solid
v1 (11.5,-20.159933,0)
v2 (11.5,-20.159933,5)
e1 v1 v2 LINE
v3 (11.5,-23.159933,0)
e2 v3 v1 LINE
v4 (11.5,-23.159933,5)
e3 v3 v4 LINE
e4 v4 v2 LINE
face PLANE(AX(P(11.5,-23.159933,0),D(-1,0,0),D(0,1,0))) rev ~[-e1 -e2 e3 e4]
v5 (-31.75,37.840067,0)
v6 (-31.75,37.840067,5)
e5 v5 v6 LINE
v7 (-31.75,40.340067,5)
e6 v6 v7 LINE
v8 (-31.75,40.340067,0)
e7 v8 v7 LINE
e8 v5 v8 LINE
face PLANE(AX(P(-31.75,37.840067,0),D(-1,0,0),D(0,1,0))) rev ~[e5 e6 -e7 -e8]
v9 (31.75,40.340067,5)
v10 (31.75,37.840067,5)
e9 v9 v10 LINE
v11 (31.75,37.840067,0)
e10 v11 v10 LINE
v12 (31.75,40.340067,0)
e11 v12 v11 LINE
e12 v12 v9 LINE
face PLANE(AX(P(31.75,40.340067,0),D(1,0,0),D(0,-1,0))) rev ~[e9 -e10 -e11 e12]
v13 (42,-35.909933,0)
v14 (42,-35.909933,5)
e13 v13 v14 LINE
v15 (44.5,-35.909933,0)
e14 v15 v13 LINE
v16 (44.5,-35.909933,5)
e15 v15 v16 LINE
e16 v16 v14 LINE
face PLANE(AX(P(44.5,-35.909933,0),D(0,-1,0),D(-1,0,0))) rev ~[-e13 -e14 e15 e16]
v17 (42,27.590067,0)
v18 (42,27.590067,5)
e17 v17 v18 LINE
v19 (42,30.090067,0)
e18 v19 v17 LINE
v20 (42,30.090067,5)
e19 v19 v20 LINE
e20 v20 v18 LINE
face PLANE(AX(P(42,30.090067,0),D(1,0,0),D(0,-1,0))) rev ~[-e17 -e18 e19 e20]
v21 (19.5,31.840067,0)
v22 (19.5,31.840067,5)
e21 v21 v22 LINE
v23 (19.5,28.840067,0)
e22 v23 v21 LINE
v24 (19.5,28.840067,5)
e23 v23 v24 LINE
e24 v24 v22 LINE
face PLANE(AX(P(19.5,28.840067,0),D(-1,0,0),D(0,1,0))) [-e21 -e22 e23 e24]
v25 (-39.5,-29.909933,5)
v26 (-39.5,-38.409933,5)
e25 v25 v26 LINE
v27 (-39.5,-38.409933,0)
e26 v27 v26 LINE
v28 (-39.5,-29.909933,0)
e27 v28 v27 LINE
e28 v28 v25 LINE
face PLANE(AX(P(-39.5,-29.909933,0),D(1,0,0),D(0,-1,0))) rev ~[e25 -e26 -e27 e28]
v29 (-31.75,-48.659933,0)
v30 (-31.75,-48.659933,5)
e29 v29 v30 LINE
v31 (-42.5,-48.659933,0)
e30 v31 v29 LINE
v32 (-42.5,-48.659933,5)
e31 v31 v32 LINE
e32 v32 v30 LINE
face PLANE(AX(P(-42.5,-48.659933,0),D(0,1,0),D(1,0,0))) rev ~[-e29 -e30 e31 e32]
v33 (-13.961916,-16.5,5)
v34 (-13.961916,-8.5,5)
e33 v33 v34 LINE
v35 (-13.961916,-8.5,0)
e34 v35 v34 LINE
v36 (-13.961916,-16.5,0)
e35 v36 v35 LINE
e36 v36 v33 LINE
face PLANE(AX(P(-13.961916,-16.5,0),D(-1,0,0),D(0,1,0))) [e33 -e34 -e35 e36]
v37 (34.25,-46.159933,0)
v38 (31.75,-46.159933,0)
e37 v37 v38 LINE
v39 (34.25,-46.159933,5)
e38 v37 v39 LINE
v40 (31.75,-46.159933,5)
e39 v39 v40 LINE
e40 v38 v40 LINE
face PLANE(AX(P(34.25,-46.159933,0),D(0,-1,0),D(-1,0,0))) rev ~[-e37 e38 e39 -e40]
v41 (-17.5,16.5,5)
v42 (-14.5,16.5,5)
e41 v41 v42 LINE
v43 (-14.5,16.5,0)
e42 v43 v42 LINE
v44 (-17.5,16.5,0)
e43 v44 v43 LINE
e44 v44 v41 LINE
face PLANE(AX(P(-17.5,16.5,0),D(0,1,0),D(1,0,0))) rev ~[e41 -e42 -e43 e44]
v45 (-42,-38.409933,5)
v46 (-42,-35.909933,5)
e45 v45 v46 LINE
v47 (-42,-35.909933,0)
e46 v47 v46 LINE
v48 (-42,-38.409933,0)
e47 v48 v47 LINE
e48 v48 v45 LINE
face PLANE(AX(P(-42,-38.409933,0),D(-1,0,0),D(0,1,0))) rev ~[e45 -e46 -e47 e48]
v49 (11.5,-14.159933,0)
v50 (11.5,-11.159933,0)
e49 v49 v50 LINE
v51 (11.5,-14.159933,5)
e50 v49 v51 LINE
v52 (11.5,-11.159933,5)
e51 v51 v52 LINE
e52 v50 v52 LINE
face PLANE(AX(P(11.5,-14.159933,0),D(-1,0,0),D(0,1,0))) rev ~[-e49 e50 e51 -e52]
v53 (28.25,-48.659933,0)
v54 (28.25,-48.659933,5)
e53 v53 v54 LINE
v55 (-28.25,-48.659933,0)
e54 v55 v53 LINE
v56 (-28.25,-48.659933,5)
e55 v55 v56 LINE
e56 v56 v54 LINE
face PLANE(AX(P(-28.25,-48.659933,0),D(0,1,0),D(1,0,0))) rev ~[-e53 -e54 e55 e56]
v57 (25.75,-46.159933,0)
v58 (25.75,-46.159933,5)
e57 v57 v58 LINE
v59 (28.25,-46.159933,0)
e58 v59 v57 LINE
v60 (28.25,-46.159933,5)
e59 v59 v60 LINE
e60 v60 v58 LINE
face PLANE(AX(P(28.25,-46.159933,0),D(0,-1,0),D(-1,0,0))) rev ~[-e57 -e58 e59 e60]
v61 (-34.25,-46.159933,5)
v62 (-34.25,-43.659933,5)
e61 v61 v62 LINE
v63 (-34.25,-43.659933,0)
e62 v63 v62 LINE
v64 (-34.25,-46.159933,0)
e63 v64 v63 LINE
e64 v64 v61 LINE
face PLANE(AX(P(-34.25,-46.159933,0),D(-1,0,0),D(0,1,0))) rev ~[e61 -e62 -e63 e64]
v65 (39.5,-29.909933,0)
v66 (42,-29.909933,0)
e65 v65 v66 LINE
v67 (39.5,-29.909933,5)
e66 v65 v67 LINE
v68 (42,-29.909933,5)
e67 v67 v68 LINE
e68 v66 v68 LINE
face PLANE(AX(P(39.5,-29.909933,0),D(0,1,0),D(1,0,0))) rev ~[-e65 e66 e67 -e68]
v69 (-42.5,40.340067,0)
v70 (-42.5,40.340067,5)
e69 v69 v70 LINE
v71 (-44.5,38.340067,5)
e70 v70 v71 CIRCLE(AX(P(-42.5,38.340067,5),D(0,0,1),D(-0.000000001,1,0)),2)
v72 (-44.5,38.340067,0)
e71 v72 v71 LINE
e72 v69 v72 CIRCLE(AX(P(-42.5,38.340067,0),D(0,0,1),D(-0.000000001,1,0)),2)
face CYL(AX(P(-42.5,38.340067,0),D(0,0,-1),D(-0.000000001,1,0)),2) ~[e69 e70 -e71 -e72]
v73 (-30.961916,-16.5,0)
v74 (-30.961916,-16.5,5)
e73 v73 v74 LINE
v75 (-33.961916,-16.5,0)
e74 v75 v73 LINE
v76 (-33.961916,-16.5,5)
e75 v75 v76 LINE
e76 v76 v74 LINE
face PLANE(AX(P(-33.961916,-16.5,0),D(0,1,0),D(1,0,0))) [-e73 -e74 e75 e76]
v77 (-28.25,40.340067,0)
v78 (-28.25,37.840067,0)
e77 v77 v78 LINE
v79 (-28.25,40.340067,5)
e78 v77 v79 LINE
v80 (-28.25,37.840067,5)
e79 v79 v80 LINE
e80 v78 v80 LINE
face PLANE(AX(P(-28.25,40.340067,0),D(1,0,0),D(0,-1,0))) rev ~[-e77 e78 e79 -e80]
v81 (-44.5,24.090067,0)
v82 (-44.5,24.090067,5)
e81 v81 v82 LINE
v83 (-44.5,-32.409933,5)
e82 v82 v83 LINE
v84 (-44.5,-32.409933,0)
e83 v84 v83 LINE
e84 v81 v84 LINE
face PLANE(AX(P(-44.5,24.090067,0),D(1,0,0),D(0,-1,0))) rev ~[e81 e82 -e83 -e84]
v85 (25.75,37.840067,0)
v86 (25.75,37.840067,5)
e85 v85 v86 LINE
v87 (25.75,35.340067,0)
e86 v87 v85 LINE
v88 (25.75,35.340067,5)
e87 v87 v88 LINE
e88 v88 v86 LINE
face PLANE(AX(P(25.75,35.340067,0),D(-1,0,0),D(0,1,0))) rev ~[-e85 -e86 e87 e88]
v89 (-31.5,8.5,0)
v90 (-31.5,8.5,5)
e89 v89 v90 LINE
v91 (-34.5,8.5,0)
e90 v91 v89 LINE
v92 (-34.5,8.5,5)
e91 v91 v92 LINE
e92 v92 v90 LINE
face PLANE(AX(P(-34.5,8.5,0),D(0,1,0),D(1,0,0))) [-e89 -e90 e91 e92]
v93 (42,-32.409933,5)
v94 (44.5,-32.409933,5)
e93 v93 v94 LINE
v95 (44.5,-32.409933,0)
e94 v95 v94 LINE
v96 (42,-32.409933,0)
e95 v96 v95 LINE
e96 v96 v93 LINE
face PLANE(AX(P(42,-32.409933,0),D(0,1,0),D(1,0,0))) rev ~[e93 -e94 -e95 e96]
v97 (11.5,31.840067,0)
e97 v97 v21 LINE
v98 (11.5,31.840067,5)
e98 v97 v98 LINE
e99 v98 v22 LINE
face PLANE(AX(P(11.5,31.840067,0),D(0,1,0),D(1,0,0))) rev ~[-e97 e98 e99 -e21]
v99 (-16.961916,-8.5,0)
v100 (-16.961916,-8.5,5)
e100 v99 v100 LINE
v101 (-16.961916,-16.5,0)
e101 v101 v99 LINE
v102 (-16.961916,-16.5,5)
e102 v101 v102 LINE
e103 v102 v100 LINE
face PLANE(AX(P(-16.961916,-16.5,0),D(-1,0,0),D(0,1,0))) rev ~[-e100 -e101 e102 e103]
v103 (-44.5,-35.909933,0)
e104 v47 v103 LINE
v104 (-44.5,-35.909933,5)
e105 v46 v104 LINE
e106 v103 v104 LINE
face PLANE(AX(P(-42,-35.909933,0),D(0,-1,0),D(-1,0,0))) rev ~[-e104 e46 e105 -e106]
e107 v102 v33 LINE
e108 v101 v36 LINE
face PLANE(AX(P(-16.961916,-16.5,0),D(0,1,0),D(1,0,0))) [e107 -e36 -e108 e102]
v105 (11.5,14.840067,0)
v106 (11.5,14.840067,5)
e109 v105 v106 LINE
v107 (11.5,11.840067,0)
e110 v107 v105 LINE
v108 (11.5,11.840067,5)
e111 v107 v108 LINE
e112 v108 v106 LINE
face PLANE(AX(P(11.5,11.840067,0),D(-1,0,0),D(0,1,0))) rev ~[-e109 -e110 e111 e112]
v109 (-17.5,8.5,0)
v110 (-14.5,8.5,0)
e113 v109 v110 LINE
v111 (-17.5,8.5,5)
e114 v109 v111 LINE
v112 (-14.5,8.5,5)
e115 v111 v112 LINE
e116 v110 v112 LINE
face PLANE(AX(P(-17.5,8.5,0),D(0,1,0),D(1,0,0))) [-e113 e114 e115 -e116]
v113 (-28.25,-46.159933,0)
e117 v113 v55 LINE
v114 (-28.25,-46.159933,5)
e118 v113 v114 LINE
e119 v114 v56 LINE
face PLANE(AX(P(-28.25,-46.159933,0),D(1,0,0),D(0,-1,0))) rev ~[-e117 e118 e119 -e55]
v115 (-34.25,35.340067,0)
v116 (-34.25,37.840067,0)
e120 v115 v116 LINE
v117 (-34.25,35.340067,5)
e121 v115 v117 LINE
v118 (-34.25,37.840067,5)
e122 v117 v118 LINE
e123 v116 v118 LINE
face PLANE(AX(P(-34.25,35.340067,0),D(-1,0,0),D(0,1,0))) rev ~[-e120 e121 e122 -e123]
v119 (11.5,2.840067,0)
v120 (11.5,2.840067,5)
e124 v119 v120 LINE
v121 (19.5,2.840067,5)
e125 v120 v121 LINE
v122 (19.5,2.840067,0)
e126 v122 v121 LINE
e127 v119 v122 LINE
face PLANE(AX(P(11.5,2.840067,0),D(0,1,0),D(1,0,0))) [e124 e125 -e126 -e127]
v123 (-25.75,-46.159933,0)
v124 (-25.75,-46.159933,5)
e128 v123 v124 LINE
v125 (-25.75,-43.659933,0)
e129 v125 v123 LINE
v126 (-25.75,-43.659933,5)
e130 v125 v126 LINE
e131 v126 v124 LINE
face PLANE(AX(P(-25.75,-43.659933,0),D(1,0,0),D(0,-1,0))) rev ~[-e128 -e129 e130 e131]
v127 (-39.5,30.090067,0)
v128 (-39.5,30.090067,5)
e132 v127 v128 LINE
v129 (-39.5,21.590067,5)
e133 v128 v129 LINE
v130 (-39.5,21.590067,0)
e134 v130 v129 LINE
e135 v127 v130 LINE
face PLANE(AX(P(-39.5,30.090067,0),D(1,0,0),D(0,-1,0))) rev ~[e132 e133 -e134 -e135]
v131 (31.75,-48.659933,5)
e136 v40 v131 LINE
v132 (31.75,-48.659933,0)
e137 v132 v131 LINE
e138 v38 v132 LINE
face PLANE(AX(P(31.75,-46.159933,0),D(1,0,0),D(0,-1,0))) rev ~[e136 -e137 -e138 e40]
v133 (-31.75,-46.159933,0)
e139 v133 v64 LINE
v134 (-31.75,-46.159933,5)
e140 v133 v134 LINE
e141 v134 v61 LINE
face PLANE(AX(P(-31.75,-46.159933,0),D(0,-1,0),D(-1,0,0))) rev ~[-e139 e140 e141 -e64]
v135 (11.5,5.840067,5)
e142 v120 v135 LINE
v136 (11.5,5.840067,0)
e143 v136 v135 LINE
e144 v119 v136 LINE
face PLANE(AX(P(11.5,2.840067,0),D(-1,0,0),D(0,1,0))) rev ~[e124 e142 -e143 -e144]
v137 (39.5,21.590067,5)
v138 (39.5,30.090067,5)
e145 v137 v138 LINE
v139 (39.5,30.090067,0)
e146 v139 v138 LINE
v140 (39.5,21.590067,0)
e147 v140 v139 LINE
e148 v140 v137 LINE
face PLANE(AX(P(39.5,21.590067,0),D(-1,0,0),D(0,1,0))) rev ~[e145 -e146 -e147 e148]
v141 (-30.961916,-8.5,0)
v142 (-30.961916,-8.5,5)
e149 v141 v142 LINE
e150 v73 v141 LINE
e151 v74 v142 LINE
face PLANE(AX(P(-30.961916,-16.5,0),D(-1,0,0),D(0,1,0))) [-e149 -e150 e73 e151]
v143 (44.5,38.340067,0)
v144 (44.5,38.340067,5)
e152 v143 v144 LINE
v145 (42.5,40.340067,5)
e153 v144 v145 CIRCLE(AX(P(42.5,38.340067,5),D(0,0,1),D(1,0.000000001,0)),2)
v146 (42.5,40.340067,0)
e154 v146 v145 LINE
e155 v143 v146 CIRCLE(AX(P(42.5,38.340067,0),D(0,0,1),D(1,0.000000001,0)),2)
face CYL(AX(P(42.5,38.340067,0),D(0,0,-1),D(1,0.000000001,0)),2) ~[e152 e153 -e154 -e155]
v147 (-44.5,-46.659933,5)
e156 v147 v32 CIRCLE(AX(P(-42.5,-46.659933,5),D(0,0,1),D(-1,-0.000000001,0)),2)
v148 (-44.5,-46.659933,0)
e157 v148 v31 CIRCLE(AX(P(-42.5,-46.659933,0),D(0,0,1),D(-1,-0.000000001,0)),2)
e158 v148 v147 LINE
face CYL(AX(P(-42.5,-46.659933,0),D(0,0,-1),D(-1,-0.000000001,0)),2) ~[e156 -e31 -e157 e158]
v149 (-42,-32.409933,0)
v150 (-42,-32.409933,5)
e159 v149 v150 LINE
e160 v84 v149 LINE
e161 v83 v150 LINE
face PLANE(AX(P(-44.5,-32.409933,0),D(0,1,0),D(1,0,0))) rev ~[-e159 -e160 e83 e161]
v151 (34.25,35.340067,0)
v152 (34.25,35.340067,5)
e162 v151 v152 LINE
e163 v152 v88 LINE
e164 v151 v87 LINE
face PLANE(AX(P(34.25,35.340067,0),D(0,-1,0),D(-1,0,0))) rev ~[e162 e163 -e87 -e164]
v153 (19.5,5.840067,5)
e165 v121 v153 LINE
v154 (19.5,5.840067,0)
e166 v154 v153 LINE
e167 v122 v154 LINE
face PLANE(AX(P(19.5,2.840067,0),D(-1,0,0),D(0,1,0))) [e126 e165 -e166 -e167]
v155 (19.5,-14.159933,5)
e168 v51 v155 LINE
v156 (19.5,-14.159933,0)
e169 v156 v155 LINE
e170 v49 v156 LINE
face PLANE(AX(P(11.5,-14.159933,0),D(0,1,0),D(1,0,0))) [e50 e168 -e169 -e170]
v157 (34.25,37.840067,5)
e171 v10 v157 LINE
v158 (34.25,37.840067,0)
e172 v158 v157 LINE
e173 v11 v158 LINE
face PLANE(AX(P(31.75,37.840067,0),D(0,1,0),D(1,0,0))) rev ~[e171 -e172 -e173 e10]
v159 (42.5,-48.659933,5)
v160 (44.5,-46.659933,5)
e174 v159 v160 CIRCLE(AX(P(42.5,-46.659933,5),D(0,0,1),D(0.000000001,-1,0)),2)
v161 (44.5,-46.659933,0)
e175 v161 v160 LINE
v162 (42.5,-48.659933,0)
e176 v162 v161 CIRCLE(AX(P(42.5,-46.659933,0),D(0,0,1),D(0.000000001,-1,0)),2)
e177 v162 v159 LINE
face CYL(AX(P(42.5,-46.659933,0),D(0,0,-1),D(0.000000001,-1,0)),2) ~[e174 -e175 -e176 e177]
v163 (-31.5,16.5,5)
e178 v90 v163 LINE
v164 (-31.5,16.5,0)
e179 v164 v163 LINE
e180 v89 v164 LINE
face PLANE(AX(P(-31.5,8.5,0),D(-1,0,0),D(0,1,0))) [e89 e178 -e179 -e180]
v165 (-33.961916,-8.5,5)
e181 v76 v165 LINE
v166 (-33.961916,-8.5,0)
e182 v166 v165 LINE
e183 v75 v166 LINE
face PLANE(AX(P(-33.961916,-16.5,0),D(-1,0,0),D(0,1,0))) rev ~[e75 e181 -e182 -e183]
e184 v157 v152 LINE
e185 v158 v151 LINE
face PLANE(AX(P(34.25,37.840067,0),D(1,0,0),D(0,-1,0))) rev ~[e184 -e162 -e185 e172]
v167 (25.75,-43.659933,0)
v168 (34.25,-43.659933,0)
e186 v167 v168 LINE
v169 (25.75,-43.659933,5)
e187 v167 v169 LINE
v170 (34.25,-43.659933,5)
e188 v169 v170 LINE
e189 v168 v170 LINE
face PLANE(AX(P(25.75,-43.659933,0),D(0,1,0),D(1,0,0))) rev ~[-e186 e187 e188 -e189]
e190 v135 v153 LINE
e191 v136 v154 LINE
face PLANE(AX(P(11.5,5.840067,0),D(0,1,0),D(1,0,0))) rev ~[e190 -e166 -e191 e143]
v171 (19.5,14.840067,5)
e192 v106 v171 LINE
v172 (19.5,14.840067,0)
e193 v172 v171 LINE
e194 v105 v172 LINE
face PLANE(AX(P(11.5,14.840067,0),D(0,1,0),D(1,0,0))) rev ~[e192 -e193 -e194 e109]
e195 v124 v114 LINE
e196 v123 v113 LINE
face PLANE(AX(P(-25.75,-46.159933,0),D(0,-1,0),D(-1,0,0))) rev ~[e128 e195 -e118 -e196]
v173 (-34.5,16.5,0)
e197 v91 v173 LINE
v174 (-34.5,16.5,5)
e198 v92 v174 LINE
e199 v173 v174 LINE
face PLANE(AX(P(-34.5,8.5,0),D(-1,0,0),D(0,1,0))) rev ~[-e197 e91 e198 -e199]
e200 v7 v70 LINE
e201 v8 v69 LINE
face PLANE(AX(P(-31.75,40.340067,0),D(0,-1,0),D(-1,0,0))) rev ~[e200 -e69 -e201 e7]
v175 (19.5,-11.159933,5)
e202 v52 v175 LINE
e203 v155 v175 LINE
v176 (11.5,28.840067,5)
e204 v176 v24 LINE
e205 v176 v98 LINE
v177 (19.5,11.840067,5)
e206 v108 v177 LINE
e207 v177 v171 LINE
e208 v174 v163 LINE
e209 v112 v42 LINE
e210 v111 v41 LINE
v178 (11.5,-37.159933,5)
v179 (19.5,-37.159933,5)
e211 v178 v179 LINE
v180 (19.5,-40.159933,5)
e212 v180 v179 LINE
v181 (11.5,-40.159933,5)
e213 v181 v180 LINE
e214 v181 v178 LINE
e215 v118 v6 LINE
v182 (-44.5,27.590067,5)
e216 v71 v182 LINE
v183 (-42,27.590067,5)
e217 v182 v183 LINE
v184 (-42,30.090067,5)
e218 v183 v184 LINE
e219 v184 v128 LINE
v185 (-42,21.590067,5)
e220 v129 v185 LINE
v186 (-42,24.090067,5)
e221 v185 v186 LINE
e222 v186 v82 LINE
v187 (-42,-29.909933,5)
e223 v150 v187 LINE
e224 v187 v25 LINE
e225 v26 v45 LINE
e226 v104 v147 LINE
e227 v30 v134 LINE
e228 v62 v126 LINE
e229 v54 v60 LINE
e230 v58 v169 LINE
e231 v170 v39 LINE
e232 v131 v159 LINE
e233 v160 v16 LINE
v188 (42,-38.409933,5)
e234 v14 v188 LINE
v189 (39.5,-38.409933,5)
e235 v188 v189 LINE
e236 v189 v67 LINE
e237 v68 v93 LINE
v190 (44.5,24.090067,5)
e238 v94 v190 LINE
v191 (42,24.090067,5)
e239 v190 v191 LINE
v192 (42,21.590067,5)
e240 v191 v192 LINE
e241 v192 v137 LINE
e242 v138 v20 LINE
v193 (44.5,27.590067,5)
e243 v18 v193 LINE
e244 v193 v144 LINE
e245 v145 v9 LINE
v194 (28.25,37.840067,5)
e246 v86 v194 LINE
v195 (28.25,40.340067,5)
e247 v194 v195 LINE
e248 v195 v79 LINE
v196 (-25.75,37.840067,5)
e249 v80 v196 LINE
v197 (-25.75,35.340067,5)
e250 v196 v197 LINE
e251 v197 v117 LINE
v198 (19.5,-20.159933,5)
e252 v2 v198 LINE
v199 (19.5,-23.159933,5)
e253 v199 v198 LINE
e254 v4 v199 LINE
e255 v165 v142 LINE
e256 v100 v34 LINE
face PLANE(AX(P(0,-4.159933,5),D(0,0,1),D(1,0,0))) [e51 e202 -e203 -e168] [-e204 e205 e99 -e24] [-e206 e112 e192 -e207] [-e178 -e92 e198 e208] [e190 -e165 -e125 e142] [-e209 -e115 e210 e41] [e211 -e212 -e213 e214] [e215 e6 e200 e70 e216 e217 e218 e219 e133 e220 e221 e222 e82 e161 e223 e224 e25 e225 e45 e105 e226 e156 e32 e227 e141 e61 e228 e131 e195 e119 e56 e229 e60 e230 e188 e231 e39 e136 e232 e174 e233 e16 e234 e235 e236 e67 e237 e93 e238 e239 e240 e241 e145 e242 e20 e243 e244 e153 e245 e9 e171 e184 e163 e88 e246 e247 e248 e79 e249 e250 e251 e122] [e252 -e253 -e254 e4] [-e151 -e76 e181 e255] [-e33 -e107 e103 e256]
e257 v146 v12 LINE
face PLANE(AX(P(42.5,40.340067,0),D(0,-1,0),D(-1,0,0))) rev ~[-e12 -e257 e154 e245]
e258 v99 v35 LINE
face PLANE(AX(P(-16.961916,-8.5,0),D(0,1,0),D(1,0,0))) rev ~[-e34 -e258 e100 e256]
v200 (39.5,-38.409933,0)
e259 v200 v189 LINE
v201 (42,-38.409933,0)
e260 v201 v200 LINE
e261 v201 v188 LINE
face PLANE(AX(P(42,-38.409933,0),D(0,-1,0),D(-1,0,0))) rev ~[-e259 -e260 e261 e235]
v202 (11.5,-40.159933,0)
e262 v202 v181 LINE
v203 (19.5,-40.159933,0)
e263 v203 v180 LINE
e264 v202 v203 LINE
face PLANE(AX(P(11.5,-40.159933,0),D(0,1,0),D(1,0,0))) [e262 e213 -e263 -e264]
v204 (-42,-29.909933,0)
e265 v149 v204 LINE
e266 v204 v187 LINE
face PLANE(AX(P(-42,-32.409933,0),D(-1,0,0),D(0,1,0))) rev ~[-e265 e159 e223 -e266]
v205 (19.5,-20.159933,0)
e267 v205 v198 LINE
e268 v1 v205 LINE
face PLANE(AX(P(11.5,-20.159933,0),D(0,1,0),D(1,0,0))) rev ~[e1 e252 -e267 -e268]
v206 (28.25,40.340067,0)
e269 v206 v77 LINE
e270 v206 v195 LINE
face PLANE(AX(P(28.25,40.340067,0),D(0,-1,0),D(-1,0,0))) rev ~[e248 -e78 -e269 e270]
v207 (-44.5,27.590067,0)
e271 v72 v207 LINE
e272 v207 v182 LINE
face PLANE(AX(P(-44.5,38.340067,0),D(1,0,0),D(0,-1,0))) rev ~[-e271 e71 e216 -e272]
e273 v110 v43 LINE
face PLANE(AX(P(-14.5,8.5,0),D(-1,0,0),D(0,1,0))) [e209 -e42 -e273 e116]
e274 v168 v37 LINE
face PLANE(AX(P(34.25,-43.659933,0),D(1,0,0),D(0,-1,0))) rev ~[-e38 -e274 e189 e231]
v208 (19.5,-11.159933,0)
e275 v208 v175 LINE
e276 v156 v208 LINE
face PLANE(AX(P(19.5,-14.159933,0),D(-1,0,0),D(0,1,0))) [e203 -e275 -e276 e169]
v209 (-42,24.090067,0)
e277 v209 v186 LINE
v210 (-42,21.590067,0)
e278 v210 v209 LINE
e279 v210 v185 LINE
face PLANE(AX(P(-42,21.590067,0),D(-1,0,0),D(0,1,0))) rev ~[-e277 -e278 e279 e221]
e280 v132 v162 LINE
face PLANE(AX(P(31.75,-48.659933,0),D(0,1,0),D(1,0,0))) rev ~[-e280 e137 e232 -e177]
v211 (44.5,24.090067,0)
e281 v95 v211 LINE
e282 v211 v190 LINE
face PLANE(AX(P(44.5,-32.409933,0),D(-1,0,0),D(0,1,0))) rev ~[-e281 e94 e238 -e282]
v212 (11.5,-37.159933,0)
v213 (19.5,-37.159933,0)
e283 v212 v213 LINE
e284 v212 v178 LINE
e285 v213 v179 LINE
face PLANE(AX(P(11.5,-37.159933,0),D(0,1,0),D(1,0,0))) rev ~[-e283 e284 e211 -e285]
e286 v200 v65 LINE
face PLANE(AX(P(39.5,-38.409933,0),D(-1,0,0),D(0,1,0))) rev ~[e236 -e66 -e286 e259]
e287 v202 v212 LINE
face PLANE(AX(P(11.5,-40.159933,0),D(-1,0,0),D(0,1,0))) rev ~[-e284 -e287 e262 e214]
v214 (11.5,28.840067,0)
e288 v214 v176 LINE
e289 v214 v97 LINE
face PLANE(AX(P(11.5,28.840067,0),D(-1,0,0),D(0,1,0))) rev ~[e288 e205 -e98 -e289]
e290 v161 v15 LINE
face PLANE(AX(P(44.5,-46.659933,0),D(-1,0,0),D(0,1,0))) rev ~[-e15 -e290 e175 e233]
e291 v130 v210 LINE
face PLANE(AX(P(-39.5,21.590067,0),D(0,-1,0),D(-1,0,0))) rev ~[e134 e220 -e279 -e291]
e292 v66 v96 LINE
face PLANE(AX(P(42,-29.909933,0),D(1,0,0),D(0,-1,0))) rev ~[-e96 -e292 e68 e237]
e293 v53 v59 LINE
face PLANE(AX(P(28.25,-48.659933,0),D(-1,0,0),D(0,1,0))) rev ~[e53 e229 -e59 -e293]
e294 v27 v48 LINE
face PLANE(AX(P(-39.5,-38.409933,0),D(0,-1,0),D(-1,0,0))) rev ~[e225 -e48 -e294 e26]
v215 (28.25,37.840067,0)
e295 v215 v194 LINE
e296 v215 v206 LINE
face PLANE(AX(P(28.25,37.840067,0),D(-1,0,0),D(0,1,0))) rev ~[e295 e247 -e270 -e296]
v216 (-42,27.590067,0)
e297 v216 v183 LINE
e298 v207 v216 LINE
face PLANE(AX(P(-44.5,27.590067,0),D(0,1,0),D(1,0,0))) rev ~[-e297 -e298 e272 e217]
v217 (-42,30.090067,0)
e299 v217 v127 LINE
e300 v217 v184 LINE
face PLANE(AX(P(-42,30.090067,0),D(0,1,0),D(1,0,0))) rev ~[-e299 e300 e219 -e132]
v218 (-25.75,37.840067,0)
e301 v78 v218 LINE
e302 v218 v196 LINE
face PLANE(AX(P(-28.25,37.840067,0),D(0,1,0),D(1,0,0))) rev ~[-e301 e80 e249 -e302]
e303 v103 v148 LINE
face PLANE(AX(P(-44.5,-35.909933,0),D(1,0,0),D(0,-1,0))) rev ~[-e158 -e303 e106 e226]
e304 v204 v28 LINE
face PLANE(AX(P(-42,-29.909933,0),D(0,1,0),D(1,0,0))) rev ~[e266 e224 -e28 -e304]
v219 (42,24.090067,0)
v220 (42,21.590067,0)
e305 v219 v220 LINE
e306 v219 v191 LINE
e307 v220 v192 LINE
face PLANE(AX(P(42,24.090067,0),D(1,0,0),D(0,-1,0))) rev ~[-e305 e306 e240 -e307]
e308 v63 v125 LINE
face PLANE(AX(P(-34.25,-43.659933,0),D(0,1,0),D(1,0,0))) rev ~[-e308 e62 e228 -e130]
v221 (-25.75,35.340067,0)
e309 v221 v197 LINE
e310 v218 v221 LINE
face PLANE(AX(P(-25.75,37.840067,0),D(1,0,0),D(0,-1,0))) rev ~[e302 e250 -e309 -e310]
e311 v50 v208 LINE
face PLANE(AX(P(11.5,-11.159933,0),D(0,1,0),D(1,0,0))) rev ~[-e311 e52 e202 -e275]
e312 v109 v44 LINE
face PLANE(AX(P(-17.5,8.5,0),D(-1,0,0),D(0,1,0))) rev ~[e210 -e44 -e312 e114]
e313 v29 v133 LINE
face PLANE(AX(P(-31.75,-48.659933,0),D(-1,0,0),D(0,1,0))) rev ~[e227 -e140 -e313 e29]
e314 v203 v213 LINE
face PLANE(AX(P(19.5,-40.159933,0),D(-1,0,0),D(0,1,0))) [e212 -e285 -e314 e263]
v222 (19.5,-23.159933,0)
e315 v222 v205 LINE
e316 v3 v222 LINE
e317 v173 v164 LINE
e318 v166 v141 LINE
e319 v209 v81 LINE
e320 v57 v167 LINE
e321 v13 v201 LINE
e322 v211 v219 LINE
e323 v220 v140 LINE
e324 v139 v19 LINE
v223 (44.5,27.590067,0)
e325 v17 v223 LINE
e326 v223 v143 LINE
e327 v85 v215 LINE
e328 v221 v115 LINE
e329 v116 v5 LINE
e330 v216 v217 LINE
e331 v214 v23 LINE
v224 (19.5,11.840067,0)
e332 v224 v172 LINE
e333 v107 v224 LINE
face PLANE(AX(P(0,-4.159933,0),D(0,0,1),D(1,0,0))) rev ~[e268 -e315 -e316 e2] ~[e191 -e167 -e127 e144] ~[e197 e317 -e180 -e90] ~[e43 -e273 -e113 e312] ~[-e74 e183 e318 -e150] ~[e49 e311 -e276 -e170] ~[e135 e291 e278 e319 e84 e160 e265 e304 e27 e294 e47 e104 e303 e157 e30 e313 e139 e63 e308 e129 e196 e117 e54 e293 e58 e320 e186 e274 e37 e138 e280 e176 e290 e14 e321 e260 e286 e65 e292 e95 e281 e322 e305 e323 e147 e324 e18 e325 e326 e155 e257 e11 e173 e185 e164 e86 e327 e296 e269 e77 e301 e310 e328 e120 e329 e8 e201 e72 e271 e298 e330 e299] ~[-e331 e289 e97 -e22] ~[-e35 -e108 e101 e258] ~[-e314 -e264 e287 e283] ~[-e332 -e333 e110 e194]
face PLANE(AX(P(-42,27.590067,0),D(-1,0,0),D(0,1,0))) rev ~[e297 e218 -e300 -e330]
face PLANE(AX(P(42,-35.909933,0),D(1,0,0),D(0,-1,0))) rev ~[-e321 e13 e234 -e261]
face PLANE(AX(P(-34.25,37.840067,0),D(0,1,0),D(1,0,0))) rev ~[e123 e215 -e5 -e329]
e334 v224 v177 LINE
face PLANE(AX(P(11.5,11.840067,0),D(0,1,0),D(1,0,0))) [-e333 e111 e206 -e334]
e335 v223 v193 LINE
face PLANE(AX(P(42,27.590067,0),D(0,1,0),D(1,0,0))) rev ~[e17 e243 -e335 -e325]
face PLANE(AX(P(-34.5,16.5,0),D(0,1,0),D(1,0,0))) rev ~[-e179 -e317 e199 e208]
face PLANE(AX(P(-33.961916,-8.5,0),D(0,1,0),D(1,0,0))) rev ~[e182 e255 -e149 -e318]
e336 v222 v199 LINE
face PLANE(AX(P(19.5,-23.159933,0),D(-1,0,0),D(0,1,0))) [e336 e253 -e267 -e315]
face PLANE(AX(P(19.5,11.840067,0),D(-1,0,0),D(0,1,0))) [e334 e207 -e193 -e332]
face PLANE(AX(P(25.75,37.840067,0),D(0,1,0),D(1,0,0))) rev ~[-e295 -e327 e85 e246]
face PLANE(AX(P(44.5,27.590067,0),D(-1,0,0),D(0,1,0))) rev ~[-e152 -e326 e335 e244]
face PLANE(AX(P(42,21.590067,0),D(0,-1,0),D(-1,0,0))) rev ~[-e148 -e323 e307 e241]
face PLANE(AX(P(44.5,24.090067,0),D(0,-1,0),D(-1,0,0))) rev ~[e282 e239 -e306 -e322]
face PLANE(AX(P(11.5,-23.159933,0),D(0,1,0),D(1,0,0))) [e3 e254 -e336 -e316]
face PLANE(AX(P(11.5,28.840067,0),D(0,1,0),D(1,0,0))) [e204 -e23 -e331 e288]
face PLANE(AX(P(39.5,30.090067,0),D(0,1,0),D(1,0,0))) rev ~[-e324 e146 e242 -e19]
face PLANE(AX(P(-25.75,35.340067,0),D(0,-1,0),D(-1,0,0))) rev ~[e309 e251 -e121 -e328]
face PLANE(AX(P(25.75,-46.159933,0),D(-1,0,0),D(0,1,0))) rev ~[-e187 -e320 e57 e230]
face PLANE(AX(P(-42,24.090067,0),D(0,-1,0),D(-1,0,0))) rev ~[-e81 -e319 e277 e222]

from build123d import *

# Parameters (mm, degrees)
SKETCH_1_W      = 3
SKETCH_1_H      = 8
SKETCH_1_W_2    = 8
SKETCH_1_H_2    = 3
EXTRUDE_1_DEPTH = 5


with BuildPart() as part:
    # Эскиз1 → Бобышка-Вытянуть1 (new body)
    with BuildSketch(Plane.XY):
        with BuildLine():
            Line((-31.75, 40.340066927), (-42.5, 40.340066927))
            ThreePointArc((-42.5, 40.340066927), (-43.914213562, 39.754280489), (-44.5, 38.340066927))
            Line((-44.5, 38.340066927), (-44.5, 27.590066927))
            Line((-44.5, 27.590066927), (-42, 27.590066927))
            Line((-42, 27.590066927), (-42, 30.090066927))
            Line((-42, 30.090066927), (-39.5, 30.090066927))
            Line((-39.5, 30.090066927), (-39.5, 21.590066927))
            Line((-39.5, 21.590066927), (-42, 21.590066927))
            Line((-42, 21.590066927), (-42, 24.090066927))
            Line((-42, 24.090066927), (-44.5, 24.090066927))
            Line((-44.5, 24.090066927), (-44.5, -32.409933073))
            Line((-44.5, -32.409933073), (-42, -32.409933073))
            Line((-42, -32.409933073), (-42, -29.909933073))
            Line((-42, -29.909933073), (-39.5, -29.909933073))
            Line((-39.5, -29.909933073), (-39.5, -38.409933073))
            Line((-39.5, -38.409933073), (-42, -38.409933073))
            Line((-42, -38.409933073), (-42, -35.909933073))
            Line((-42, -35.909933073), (-44.5, -35.909933073))
            Line((-44.5, -35.909933073), (-44.5, -46.659933073))
            ThreePointArc((-44.5, -46.659933073), (-43.914213562, -48.074146635), (-42.5, -48.659933073))
            Line((-42.5, -48.659933073), (-31.75, -48.659933073))
            Line((-31.75, -48.659933073), (-31.75, -46.159933073))
            Line((-31.75, -46.159933073), (-34.25, -46.159933073))
            Line((-34.25, -46.159933073), (-34.25, -43.659933073))
            Line((-34.25, -43.659933073), (-25.75, -43.659933073))
            Line((-25.75, -43.659933073), (-25.75, -46.159933073))
            Line((-25.75, -46.159933073), (-28.25, -46.159933073))
            Line((-28.25, -46.159933073), (-28.25, -48.659933073))
            Line((-28.25, -48.659933073), (28.25, -48.659933073))
            Line((28.25, -48.659933073), (28.25, -46.159933073))
            Line((28.25, -46.159933073), (25.75, -46.159933073))
            Line((25.75, -46.159933073), (25.75, -43.659933073))
            Line((25.75, -43.659933073), (34.25, -43.659933073))
            Line((34.25, -43.659933073), (34.25, -46.159933073))
            Line((34.25, -46.159933073), (31.75, -46.159933073))
            Line((31.75, -46.159933073), (31.75, -48.659933073))
            Line((31.75, -48.659933073), (42.5, -48.659933073))
            ThreePointArc((42.5, -48.659933073), (43.914213562, -48.074146635), (44.5, -46.659933073))
            Line((44.5, -46.659933073), (44.5, -35.909933073))
            Line((44.5, -35.909933073), (42, -35.909933073))
            Line((42, -35.909933073), (42, -38.409933073))
            Line((42, -38.409933073), (39.5, -38.409933073))
            Line((39.5, -38.409933073), (39.5, -29.909933073))
            Line((39.5, -29.909933073), (42, -29.909933073))
            Line((42, -29.909933073), (42, -32.409933073))
            Line((42, -32.409933073), (44.5, -32.409933073))
            Line((44.5, -32.409933073), (44.5, 24.090066927))
            Line((44.5, 24.090066927), (42, 24.090066927))
            Line((42, 24.090066927), (42, 21.590066927))
            Line((42, 21.590066927), (39.5, 21.590066927))
            Line((39.5, 21.590066927), (39.5, 30.090066927))
            Line((39.5, 30.090066927), (42, 30.090066927))
            Line((42, 30.090066927), (42, 27.590066927))
            Line((42, 27.590066927), (44.5, 27.590066927))
            Line((44.5, 27.590066927), (44.5, 38.340066927))
            ThreePointArc((44.5, 38.340066927), (43.914213562, 39.754280489), (42.5, 40.340066927))
            Line((42.5, 40.340066927), (31.75, 40.340066927))
            Line((31.75, 40.340066927), (31.75, 37.840066927))
            Line((31.75, 37.840066927), (34.25, 37.840066927))
            Line((34.25, 37.840066927), (34.25, 35.340066927))
            Line((34.25, 35.340066927), (25.75, 35.340066927))
            Line((25.75, 35.340066927), (25.75, 37.840066927))
            Line((25.75, 37.840066927), (28.25, 37.840066927))
            Line((28.25, 37.840066927), (28.25, 40.340066927))
            Line((28.25, 40.340066927), (-28.25, 40.340066927))
            Line((-28.25, 40.340066927), (-28.25, 37.840066927))
            Line((-28.25, 37.840066927), (-25.75, 37.840066927))
            Line((-25.75, 37.840066927), (-25.75, 35.340066927))
            Line((-25.75, 35.340066927), (-34.25, 35.340066927))
            Line((-34.25, 35.340066927), (-34.25, 37.840066927))
            Line((-34.25, 37.840066927), (-31.75, 37.840066927))
            Line((-31.75, 37.840066927), (-31.75, 40.340066927))
        make_face()
        with Locations((-33, 12.5)):
            Rectangle(SKETCH_1_W, SKETCH_1_H, mode=Mode.SUBTRACT)
        with Locations((-32.461916363, -12.5)):
            Rectangle(SKETCH_1_W, SKETCH_1_H, mode=Mode.SUBTRACT)
        with Locations((-16, 12.5)):
            Rectangle(SKETCH_1_W, SKETCH_1_H, mode=Mode.SUBTRACT)
        with Locations((-15.461916363, -12.5)):
            Rectangle(SKETCH_1_W, SKETCH_1_H, mode=Mode.SUBTRACT)
        with Locations((15.5, 13.340066927)):
            Rectangle(SKETCH_1_W_2, SKETCH_1_H_2, mode=Mode.SUBTRACT)
        with Locations((15.5, 30.340066927)):
            Rectangle(SKETCH_1_W_2, SKETCH_1_H_2, mode=Mode.SUBTRACT)
        with Locations((15.5, -12.659933073)):
            Rectangle(SKETCH_1_W_2, SKETCH_1_H_2, mode=Mode.SUBTRACT)
        with Locations((15.5, 4.340066927)):
            Rectangle(SKETCH_1_W_2, SKETCH_1_H_2, mode=Mode.SUBTRACT)
        with Locations((15.5, -38.659933073)):
            Rectangle(SKETCH_1_W_2, SKETCH_1_H_2, mode=Mode.SUBTRACT)
        with Locations((15.5, -21.659933073)):
            Rectangle(SKETCH_1_W_2, SKETCH_1_H_2, mode=Mode.SUBTRACT)
    extrude(amount=EXTRUDE_1_DEPTH)


solid = part.part
